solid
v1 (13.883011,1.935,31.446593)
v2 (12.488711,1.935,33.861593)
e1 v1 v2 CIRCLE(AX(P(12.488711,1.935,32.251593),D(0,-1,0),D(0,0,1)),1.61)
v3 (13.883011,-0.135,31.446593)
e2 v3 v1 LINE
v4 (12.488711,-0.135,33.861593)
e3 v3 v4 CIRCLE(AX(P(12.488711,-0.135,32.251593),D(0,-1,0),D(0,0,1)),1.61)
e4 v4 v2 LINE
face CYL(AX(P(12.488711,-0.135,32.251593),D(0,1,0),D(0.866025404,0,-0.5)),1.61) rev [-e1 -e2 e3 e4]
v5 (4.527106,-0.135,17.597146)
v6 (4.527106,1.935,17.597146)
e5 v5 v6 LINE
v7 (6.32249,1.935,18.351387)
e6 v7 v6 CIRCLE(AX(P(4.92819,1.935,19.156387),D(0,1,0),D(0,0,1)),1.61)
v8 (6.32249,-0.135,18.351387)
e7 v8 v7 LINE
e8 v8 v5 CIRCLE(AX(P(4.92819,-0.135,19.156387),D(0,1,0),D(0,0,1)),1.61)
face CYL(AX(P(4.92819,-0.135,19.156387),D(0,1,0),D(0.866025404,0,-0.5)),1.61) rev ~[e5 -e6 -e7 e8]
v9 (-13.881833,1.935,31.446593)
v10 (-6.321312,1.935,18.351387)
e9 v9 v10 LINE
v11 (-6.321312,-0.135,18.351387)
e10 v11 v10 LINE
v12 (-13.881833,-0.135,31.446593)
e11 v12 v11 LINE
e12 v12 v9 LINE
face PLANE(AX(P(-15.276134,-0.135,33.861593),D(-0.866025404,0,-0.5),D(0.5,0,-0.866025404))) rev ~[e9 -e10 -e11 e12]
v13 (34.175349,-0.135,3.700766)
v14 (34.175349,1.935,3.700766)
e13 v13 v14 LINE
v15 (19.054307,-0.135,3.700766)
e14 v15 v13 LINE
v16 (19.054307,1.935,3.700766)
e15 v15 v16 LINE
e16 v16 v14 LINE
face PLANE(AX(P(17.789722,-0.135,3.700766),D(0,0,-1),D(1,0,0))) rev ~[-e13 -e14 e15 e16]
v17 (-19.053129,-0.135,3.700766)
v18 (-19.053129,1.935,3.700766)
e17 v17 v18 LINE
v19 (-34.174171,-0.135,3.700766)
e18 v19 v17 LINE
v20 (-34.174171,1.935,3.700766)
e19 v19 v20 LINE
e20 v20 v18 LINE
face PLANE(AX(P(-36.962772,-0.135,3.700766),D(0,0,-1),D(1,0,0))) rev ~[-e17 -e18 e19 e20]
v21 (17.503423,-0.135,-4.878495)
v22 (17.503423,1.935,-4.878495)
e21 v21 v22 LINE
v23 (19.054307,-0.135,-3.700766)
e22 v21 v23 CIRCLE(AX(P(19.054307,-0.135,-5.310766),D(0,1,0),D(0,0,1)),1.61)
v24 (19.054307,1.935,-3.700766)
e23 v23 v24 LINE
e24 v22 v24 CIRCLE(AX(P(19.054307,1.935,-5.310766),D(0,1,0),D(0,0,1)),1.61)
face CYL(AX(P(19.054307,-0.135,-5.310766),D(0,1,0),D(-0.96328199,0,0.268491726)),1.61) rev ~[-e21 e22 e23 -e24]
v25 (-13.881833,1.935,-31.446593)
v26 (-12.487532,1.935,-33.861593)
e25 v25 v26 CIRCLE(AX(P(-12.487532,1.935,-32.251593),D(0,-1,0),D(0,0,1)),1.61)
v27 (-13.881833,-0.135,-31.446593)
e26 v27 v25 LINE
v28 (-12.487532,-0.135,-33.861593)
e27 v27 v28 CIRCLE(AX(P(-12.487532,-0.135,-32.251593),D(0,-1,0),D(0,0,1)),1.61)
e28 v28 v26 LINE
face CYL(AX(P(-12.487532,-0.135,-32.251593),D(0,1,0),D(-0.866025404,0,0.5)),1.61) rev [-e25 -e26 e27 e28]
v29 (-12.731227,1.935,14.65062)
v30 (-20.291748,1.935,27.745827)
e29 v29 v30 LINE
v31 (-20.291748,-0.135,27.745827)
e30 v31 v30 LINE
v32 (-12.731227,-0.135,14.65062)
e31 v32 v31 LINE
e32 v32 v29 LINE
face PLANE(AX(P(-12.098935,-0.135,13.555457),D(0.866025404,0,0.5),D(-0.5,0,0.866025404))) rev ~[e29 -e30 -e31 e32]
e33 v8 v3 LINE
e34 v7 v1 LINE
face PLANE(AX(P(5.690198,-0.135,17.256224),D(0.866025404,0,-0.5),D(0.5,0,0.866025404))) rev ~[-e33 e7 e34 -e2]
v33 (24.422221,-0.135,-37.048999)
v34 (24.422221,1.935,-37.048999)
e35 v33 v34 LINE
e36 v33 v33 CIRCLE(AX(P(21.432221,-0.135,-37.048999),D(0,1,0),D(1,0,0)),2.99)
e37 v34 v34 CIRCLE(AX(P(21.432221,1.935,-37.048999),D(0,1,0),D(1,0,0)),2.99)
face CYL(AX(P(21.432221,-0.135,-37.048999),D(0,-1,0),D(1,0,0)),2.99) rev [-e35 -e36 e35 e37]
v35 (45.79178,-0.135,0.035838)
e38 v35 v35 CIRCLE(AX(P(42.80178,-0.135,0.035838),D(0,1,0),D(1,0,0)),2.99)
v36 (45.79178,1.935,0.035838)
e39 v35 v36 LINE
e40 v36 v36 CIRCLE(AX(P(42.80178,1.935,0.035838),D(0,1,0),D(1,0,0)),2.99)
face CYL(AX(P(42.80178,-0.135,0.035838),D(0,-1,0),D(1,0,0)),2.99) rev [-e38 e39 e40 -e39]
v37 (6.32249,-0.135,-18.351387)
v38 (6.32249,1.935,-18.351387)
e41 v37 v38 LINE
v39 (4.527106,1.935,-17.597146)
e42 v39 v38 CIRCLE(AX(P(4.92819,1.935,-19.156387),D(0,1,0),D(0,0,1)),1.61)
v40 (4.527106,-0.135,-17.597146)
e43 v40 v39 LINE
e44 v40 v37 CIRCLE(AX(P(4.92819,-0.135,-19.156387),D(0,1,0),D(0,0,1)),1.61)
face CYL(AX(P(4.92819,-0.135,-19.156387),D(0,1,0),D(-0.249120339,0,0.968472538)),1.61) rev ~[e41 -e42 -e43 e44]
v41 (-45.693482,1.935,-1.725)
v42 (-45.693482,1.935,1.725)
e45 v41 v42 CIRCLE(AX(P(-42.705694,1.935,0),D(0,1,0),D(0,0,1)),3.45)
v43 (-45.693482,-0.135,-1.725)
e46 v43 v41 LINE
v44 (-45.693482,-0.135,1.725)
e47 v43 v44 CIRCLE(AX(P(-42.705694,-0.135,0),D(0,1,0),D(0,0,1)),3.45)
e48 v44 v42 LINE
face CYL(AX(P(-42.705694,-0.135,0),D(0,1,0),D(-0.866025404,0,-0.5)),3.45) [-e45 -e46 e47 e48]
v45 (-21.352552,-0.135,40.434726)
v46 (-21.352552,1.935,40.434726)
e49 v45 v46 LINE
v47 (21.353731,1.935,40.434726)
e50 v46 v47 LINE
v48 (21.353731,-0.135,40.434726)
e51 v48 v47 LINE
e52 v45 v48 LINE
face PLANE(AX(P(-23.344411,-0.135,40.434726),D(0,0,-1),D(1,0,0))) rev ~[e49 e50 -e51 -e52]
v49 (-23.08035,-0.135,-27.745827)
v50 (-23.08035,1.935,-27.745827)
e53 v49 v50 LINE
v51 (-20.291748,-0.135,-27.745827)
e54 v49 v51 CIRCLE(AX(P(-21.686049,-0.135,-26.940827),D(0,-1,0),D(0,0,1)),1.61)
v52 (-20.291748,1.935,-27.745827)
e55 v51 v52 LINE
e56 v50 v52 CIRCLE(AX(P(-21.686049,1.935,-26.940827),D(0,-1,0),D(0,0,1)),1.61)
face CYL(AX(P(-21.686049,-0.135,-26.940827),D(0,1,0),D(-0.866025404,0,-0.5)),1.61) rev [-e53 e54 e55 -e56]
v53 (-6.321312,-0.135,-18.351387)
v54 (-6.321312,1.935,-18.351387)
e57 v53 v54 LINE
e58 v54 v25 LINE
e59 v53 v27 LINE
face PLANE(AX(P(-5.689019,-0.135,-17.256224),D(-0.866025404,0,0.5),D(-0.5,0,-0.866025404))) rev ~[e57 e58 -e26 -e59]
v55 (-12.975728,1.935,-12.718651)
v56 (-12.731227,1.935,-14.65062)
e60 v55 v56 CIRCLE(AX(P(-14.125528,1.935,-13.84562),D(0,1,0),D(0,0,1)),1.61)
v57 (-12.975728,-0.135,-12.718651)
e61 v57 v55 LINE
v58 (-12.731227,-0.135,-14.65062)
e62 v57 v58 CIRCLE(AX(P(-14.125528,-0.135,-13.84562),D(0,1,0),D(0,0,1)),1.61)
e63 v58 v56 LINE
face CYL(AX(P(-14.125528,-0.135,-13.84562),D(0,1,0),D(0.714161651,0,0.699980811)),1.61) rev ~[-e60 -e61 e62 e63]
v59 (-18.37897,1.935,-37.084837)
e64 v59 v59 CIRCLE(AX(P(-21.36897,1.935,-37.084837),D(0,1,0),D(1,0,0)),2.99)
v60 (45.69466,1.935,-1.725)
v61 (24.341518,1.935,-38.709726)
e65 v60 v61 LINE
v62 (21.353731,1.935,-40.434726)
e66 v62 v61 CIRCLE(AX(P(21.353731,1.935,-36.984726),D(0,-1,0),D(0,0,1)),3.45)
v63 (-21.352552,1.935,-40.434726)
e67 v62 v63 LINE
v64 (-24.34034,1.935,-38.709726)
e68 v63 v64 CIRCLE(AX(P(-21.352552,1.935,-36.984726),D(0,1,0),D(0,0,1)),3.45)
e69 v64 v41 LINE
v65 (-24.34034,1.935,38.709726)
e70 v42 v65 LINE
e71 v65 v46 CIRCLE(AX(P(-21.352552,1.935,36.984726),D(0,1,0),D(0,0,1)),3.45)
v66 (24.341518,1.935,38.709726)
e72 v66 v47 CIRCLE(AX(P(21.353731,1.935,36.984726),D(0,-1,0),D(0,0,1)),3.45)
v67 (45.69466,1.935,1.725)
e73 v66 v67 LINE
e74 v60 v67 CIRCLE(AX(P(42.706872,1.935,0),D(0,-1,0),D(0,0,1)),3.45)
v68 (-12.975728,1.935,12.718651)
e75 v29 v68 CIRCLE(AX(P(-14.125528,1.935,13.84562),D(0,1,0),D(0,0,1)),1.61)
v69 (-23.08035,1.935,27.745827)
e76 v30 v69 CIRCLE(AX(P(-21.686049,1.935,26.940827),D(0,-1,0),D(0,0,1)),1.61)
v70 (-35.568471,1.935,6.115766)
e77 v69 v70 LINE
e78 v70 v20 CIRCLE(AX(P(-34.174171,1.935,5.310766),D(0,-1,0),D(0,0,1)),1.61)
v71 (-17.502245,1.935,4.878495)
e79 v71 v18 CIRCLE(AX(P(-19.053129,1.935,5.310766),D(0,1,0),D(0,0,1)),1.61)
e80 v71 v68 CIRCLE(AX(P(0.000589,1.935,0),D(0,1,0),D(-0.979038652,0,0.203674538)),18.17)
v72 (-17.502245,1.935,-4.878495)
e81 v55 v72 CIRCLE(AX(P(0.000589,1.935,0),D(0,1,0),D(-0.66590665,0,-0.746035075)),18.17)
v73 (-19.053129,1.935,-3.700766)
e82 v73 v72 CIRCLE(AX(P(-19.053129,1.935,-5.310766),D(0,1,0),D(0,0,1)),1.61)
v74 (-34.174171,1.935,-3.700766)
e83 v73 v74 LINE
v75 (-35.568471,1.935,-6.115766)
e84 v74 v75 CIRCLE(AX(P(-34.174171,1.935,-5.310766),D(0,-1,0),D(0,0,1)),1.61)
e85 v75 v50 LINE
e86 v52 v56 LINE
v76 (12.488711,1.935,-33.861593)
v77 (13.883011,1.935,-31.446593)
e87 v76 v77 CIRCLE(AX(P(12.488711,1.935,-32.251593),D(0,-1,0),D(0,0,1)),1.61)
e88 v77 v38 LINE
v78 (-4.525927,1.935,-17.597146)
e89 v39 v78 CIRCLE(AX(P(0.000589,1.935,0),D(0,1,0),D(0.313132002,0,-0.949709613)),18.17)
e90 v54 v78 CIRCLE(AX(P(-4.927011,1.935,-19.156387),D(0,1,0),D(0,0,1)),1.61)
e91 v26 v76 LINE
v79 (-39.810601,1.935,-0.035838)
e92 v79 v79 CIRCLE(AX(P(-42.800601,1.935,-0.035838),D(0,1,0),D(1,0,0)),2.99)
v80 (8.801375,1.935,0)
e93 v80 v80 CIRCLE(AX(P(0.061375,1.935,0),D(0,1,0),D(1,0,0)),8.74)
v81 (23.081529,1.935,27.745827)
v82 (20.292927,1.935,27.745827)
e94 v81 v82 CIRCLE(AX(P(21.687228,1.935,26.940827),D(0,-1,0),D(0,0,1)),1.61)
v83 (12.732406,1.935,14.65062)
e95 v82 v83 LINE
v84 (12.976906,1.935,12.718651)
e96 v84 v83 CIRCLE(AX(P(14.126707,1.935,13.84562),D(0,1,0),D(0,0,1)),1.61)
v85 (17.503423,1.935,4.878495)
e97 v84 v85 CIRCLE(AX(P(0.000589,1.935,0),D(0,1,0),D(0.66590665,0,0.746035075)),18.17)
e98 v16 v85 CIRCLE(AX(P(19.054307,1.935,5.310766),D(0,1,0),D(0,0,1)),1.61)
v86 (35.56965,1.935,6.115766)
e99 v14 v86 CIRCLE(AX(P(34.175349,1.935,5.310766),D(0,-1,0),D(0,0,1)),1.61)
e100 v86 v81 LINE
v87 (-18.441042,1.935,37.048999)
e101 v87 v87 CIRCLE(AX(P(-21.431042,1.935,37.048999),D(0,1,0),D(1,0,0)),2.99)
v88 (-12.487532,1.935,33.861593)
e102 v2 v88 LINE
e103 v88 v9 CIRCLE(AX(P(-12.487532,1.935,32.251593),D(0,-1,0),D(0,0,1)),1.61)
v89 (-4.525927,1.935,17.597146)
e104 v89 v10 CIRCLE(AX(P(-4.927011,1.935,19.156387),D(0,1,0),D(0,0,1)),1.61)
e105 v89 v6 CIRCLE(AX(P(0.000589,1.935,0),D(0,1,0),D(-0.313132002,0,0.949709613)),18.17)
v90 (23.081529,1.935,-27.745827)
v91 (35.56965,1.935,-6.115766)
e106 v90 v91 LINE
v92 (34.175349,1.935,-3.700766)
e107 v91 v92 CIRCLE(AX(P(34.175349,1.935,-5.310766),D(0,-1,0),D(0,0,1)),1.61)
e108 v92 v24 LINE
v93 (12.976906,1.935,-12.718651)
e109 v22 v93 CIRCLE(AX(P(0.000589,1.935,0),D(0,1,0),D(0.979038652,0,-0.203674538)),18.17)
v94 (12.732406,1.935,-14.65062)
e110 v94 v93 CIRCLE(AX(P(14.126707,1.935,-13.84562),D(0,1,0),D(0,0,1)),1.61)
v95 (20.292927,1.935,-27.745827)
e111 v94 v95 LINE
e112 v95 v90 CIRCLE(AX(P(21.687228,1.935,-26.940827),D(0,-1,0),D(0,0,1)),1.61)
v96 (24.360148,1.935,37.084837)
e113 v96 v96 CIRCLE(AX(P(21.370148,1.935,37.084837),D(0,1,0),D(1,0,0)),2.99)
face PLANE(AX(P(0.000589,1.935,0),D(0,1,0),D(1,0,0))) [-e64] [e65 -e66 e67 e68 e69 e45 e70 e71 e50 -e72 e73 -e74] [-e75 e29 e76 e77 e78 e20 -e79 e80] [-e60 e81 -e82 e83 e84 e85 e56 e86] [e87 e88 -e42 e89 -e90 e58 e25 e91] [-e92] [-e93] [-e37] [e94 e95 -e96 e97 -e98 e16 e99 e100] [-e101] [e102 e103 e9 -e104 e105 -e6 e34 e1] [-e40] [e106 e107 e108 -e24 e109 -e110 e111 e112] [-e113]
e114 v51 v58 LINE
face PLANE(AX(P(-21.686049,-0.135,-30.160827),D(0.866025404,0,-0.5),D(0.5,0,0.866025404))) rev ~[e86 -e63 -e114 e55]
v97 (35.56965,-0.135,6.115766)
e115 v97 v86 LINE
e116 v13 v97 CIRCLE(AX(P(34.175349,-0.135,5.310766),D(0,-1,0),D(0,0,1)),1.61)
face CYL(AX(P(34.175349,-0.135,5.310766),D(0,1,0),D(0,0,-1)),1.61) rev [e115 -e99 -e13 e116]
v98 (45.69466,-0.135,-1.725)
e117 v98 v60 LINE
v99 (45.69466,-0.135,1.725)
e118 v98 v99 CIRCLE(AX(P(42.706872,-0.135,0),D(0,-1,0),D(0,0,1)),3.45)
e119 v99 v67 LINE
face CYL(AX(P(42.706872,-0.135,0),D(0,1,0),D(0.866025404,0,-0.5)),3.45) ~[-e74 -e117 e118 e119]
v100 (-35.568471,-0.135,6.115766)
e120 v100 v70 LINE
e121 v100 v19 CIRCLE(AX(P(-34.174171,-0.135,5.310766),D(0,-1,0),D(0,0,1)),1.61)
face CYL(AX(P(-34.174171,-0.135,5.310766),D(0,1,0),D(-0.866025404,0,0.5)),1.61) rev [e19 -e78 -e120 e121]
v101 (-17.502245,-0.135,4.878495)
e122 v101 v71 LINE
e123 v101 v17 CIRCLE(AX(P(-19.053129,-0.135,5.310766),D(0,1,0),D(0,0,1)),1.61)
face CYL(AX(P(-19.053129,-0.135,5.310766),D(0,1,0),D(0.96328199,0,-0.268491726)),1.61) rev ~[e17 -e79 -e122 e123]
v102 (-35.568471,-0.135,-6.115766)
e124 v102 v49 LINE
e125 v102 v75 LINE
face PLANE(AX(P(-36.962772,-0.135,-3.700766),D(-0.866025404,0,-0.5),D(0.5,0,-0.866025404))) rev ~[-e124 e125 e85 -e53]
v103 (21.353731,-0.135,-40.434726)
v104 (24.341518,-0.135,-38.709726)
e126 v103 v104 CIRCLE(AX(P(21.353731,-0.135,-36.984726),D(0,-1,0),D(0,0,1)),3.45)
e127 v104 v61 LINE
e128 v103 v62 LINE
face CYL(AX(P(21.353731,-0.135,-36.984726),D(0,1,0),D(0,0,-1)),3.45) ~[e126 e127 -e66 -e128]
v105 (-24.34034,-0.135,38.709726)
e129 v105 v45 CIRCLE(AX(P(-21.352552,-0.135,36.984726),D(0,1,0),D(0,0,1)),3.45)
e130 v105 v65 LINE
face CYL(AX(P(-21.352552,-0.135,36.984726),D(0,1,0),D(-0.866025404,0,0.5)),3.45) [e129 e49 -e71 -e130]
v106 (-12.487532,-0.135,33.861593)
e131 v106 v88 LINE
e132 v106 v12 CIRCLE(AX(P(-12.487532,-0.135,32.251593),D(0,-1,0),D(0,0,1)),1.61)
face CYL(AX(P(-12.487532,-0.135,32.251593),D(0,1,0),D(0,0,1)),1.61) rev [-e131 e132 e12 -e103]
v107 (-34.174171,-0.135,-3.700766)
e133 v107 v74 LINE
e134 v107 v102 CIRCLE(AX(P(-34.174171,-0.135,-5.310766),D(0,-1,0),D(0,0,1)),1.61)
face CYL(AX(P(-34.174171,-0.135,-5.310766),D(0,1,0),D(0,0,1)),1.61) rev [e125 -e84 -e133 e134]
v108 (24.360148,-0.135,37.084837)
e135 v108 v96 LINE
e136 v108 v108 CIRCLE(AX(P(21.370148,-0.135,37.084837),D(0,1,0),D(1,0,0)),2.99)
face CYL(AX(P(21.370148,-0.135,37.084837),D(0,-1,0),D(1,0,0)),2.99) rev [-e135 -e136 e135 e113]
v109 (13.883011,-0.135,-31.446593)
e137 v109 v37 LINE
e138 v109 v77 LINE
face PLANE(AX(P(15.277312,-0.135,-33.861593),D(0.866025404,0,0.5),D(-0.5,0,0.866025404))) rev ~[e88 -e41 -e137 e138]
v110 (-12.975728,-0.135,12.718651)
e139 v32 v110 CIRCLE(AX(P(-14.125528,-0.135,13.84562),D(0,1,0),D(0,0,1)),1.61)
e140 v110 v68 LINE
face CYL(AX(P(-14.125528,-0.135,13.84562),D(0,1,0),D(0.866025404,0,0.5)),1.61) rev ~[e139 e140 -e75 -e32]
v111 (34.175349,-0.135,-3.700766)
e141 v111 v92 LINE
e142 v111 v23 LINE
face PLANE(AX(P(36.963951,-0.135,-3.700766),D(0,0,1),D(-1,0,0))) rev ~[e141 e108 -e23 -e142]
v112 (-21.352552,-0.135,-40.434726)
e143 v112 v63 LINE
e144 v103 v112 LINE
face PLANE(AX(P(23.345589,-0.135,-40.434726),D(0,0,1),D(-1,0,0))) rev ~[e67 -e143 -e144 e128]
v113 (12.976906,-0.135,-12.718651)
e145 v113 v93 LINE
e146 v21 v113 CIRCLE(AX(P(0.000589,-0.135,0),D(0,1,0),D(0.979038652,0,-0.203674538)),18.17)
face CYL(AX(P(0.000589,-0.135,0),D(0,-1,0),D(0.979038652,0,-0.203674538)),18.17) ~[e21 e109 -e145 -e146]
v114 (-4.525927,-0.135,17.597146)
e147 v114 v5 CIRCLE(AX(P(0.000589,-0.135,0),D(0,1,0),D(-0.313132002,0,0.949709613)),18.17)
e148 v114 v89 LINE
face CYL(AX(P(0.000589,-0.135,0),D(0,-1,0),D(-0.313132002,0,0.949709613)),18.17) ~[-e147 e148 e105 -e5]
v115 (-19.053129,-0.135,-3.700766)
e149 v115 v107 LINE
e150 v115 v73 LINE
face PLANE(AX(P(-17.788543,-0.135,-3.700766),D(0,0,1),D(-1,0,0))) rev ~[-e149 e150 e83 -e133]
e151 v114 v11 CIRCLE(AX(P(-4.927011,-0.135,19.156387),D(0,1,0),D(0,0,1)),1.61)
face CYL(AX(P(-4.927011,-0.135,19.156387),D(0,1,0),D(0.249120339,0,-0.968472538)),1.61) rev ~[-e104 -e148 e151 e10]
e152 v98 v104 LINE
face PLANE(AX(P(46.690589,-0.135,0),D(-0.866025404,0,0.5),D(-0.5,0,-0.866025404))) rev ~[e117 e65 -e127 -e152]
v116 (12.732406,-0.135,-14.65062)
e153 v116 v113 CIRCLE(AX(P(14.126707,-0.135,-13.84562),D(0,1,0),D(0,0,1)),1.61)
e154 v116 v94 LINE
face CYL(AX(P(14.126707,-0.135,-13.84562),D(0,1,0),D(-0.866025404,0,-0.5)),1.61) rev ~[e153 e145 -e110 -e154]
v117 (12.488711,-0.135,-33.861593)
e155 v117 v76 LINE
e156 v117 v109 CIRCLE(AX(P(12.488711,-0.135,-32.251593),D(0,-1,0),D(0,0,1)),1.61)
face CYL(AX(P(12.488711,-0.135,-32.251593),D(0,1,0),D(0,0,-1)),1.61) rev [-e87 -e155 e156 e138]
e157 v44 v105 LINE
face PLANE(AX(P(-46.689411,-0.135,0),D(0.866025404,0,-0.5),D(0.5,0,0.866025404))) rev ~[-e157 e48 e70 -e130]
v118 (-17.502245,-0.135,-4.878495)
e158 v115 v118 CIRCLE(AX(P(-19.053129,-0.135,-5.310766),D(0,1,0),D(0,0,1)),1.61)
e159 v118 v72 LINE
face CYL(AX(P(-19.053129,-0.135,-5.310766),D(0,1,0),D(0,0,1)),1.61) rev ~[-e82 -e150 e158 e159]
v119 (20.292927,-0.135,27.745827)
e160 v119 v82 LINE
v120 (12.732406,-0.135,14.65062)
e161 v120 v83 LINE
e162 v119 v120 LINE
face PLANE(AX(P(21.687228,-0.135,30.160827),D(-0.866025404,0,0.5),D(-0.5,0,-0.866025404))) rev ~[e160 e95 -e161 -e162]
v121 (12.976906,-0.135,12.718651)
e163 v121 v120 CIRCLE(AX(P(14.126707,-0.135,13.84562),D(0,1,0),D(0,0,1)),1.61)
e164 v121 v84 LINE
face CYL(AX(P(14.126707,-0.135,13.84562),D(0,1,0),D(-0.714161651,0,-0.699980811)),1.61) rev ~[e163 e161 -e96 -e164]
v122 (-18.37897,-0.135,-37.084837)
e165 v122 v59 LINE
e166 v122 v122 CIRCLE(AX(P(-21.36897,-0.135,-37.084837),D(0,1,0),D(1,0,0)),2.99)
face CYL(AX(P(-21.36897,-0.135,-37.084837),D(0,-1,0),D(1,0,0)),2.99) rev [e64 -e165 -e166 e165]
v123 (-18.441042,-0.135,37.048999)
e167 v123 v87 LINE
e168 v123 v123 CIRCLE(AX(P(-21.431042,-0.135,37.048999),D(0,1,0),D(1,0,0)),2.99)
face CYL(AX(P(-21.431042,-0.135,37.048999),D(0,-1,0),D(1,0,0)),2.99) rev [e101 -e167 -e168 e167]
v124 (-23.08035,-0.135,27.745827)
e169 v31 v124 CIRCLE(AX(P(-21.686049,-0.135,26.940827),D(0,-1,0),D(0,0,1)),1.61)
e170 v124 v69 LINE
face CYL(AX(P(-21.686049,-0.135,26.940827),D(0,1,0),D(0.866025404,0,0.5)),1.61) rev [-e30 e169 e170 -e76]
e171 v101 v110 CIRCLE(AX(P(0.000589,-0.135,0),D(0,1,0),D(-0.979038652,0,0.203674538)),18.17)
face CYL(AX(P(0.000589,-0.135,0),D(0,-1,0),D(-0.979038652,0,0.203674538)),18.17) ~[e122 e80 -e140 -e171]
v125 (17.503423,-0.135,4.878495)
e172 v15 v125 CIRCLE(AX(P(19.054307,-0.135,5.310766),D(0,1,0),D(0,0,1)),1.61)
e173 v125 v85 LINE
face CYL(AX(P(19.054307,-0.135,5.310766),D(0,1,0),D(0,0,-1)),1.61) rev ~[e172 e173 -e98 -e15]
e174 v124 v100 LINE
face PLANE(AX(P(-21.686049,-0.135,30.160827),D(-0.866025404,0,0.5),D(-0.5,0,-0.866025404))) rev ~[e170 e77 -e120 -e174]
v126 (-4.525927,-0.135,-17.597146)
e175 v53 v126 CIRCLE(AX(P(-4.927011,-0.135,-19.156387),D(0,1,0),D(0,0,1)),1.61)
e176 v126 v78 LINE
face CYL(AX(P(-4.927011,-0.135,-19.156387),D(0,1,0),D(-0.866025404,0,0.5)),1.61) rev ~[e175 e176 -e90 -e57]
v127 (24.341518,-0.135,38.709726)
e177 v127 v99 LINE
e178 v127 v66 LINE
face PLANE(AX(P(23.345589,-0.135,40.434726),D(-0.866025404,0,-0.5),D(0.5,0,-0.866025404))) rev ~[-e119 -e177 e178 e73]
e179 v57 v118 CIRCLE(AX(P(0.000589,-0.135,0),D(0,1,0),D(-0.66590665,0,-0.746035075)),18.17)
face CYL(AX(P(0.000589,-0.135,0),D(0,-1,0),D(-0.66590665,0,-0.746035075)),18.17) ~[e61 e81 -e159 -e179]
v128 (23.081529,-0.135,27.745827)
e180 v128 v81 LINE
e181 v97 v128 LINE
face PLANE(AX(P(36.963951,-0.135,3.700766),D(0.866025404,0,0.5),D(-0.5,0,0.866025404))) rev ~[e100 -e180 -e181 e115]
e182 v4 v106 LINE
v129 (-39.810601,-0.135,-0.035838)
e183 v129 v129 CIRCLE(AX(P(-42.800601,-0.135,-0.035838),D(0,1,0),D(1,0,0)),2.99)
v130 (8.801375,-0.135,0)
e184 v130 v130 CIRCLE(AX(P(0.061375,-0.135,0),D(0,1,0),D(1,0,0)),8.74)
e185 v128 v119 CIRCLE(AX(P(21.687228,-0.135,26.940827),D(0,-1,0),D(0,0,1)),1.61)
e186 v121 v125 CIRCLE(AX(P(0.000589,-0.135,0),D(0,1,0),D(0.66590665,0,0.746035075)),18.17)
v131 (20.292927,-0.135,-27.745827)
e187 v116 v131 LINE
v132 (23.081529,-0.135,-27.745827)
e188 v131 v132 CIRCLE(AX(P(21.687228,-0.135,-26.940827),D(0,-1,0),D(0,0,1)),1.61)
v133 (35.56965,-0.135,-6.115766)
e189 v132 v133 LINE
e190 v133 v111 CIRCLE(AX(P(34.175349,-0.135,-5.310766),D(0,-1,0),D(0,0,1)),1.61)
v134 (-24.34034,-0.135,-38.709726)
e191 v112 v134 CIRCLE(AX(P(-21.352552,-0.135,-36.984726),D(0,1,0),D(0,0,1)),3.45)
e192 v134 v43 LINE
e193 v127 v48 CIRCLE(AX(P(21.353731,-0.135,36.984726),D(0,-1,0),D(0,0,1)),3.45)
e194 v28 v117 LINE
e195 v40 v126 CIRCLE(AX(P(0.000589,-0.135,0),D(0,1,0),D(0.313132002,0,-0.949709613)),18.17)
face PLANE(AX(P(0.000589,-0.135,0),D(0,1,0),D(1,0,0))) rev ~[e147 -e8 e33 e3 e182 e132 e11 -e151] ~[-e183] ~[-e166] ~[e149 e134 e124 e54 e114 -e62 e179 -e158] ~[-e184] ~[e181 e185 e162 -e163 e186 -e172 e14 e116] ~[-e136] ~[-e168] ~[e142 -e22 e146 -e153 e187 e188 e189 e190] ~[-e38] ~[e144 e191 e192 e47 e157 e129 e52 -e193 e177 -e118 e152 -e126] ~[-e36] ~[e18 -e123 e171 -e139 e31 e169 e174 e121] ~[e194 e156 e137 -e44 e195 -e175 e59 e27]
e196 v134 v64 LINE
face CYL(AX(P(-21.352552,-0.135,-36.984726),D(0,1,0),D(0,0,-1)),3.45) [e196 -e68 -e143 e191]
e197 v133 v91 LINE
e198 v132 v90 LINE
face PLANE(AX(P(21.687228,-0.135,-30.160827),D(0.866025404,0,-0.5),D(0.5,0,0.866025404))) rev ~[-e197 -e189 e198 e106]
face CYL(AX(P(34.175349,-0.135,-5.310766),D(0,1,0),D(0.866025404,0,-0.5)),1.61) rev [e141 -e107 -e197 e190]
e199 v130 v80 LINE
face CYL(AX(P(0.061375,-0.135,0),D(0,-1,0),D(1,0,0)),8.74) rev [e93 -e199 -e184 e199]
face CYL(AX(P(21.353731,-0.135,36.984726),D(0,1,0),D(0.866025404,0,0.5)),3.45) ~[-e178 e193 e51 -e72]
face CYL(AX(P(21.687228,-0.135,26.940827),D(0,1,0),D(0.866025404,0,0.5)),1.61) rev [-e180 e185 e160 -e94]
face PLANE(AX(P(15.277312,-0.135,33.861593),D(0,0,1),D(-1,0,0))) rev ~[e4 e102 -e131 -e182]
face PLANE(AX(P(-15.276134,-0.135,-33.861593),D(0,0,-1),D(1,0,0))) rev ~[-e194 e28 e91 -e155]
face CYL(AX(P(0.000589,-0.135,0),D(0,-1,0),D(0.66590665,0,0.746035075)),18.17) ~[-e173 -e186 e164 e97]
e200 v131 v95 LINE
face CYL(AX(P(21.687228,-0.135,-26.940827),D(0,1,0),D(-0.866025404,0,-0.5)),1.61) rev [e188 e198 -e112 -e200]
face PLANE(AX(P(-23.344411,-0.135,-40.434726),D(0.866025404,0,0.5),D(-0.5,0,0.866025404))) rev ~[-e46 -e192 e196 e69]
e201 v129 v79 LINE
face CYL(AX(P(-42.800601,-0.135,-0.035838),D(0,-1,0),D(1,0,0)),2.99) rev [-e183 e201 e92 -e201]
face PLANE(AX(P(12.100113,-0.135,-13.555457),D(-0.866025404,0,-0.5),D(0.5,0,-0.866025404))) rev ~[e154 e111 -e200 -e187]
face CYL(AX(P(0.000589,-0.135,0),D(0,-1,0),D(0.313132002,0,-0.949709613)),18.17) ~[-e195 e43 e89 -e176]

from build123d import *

# Parameters (mm, degrees)
SKETCH1_R           = 2.6
SKETCH1_R_2         = 7.6
BOSS_EXTRUDE1_DEPTH = 1.8
FILLET1_R           = 3
FILLET2_R           = 1.4
SCALE1_SCALE        = 1.15


with BuildPart() as part:
    # Sketch1 → Boss-Extrude1 (new body)
    with BuildSketch(Plane(origin=(0, 0, 0), x_dir=(1, 0, 0), z_dir=(0, 1, 0))):
        Polygon((20.3, 35.160631394), (-20.3, 35.160631394), (-40.6, 0), (-20.3, -35.160631394), (20.3, -35.160631394), (40.6, 0), align=None)
        with Locations((-18.636201283, -32.21652123)):
            Circle(SKETCH1_R, mode=Mode.SUBTRACT)
        with Locations((18.582225165, -32.247684356)):
            Circle(SKETCH1_R, mode=Mode.SUBTRACT)
        with Locations((37.218426448, -0.031163126)):
            Circle(SKETCH1_R, mode=Mode.SUBTRACT)
        with Locations((-37.218426448, 0.031163126)):
            Circle(SKETCH1_R, mode=Mode.SUBTRACT)
        with BuildLine():
            Line((-32.142053523, 3.218057696), (-18.857946477, 26.226806032))
            Line((-18.857946477, 26.226806032), (-10.521325069, 11.78735419))
            ThreePointArc((-10.521325069, 11.78735419), (-13.68320138, 7.9), (-15.468810706, 3.218057696))
            Line((-15.468810706, 3.218057696), (-32.142053523, 3.218057696))
        make_face(mode=Mode.SUBTRACT)
        with BuildLine():
            Line((-18.857946477, -26.226806032), (-32.142053523, -3.218057696))
            Line((-32.142053523, -3.218057696), (-15.468810706, -3.218057696))
            ThreePointArc((-15.468810706, -3.218057696), (-13.68320138, -7.9), (-10.521325069, -11.78735419))
            Line((-10.521325069, -11.78735419), (-18.857946477, -26.226806032))
        make_face(mode=Mode.SUBTRACT)
        with BuildLine():
            Line((13.284107046, -29.444863729), (-13.284107046, -29.444863729))
            Line((-13.284107046, -29.444863729), (-4.947485637, -15.005411886))
            ThreePointArc((-4.947485637, -15.005411886), (0, -15.8), (4.947485637, -15.005411886))
            Line((4.947485637, -15.005411886), (13.284107046, -29.444863729))
        make_face(mode=Mode.SUBTRACT)
        with BuildLine():
            Line((32.142053523, -3.218057696), (18.857946477, -26.226806032))
            Line((18.857946477, -26.226806032), (10.521325069, -11.78735419))
            ThreePointArc((10.521325069, -11.78735419), (13.68320138, -7.9), (15.468810706, -3.218057696))
            Line((15.468810706, -3.218057696), (32.142053523, -3.218057696))
        make_face(mode=Mode.SUBTRACT)
        with BuildLine():
            Line((18.857946477, 26.226806032), (32.142053523, 3.218057696))
            Line((32.142053523, 3.218057696), (15.468810706, 3.218057696))
            ThreePointArc((15.468810706, 3.218057696), (13.68320138, 7.9), (10.521325069, 11.78735419))
            Line((10.521325069, 11.78735419), (18.857946477, 26.226806032))
        make_face(mode=Mode.SUBTRACT)
        with BuildLine():
            Line((-13.284107046, 29.444863729), (13.284107046, 29.444863729))
            Line((13.284107046, 29.444863729), (4.947485637, 15.005411886))
            ThreePointArc((4.947485637, 15.005411886), (0, 15.8), (-4.947485637, 15.005411886))
            Line((-4.947485637, 15.005411886), (-13.284107046, 29.444863729))
        make_face(mode=Mode.SUBTRACT)
        with Locations((-18.582225165, 32.247684356)):
            Circle(SKETCH1_R, mode=Mode.SUBTRACT)
        with Locations((18.636201283, 32.21652123)):
            Circle(SKETCH1_R, mode=Mode.SUBTRACT)
        with Locations((0.052857117, 0)):
            Circle(SKETCH1_R_2, mode=Mode.SUBTRACT)
    extrude(amount=BOSS_EXTRUDE1_DEPTH)

    # Fillet1
    fillet1_edges = [part.edges().sort_by_distance(p)[0] for p in [
        (40.6, 0.9, 0),
        (20.3, 0.9, 35.160631394),
        (-20.3, 0.9, 35.160631394),
        (-40.6, 0.9, 0),
        (-20.3, 0.9, -35.160631394),
        (20.3, 0.9, -35.160631394),
    ]]
    fillet(fillet1_edges, radius=FILLET1_R)

    # Fillet2
    fillet2_edges = [part.edges().sort_by_distance(p)[0] for p in [
        (-32.142053523, 0.9, -3.218057696),
        (-15.468810706, 0.9, -3.218057696),
        (-10.521325069, 0.9, -11.78735419),
        (-18.857946477, 0.9, -26.226806032),
        (-18.857946477, 0.9, 26.226806032),
        (-10.521325069, 0.9, 11.78735419),
        (-15.468810706, 0.9, 3.218057696),
        (-32.142053523, 0.9, 3.218057696),
        (13.284107046, 0.9, 29.444863729),
        (4.947485637, 0.9, 15.005411886),
        (-4.947485637, 0.9, 15.005411886),
        (-13.284107046, 0.9, 29.444863729),
        (32.142053523, 0.9, 3.218057696),
        (15.468810706, 0.9, 3.218057696),
        (10.521325069, 0.9, 11.78735419),
        (18.857946477, 0.9, 26.226806032),
        (18.857946477, 0.9, -26.226806032),
        (10.521325069, 0.9, -11.78735419),
        (15.468810706, 0.9, -3.218057696),
        (32.142053523, 0.9, -3.218057696),
        (-13.284107046, 0.9, -29.444863729),
        (-4.947485637, 0.9, -15.005411886),
        (4.947485637, 0.9, -15.005411886),
        (13.284107046, 0.9, -29.444863729),
    ]]
    fillet(fillet2_edges, radius=FILLET2_R)


with BuildPart() as part_1:
    # Scale1: scaled about (-0.003928135, 0.9, 0)
    add(part.part.scale(SCALE1_SCALE).moved(Location((0.00058922, -0.135, 0))))


solid = part_1.part
